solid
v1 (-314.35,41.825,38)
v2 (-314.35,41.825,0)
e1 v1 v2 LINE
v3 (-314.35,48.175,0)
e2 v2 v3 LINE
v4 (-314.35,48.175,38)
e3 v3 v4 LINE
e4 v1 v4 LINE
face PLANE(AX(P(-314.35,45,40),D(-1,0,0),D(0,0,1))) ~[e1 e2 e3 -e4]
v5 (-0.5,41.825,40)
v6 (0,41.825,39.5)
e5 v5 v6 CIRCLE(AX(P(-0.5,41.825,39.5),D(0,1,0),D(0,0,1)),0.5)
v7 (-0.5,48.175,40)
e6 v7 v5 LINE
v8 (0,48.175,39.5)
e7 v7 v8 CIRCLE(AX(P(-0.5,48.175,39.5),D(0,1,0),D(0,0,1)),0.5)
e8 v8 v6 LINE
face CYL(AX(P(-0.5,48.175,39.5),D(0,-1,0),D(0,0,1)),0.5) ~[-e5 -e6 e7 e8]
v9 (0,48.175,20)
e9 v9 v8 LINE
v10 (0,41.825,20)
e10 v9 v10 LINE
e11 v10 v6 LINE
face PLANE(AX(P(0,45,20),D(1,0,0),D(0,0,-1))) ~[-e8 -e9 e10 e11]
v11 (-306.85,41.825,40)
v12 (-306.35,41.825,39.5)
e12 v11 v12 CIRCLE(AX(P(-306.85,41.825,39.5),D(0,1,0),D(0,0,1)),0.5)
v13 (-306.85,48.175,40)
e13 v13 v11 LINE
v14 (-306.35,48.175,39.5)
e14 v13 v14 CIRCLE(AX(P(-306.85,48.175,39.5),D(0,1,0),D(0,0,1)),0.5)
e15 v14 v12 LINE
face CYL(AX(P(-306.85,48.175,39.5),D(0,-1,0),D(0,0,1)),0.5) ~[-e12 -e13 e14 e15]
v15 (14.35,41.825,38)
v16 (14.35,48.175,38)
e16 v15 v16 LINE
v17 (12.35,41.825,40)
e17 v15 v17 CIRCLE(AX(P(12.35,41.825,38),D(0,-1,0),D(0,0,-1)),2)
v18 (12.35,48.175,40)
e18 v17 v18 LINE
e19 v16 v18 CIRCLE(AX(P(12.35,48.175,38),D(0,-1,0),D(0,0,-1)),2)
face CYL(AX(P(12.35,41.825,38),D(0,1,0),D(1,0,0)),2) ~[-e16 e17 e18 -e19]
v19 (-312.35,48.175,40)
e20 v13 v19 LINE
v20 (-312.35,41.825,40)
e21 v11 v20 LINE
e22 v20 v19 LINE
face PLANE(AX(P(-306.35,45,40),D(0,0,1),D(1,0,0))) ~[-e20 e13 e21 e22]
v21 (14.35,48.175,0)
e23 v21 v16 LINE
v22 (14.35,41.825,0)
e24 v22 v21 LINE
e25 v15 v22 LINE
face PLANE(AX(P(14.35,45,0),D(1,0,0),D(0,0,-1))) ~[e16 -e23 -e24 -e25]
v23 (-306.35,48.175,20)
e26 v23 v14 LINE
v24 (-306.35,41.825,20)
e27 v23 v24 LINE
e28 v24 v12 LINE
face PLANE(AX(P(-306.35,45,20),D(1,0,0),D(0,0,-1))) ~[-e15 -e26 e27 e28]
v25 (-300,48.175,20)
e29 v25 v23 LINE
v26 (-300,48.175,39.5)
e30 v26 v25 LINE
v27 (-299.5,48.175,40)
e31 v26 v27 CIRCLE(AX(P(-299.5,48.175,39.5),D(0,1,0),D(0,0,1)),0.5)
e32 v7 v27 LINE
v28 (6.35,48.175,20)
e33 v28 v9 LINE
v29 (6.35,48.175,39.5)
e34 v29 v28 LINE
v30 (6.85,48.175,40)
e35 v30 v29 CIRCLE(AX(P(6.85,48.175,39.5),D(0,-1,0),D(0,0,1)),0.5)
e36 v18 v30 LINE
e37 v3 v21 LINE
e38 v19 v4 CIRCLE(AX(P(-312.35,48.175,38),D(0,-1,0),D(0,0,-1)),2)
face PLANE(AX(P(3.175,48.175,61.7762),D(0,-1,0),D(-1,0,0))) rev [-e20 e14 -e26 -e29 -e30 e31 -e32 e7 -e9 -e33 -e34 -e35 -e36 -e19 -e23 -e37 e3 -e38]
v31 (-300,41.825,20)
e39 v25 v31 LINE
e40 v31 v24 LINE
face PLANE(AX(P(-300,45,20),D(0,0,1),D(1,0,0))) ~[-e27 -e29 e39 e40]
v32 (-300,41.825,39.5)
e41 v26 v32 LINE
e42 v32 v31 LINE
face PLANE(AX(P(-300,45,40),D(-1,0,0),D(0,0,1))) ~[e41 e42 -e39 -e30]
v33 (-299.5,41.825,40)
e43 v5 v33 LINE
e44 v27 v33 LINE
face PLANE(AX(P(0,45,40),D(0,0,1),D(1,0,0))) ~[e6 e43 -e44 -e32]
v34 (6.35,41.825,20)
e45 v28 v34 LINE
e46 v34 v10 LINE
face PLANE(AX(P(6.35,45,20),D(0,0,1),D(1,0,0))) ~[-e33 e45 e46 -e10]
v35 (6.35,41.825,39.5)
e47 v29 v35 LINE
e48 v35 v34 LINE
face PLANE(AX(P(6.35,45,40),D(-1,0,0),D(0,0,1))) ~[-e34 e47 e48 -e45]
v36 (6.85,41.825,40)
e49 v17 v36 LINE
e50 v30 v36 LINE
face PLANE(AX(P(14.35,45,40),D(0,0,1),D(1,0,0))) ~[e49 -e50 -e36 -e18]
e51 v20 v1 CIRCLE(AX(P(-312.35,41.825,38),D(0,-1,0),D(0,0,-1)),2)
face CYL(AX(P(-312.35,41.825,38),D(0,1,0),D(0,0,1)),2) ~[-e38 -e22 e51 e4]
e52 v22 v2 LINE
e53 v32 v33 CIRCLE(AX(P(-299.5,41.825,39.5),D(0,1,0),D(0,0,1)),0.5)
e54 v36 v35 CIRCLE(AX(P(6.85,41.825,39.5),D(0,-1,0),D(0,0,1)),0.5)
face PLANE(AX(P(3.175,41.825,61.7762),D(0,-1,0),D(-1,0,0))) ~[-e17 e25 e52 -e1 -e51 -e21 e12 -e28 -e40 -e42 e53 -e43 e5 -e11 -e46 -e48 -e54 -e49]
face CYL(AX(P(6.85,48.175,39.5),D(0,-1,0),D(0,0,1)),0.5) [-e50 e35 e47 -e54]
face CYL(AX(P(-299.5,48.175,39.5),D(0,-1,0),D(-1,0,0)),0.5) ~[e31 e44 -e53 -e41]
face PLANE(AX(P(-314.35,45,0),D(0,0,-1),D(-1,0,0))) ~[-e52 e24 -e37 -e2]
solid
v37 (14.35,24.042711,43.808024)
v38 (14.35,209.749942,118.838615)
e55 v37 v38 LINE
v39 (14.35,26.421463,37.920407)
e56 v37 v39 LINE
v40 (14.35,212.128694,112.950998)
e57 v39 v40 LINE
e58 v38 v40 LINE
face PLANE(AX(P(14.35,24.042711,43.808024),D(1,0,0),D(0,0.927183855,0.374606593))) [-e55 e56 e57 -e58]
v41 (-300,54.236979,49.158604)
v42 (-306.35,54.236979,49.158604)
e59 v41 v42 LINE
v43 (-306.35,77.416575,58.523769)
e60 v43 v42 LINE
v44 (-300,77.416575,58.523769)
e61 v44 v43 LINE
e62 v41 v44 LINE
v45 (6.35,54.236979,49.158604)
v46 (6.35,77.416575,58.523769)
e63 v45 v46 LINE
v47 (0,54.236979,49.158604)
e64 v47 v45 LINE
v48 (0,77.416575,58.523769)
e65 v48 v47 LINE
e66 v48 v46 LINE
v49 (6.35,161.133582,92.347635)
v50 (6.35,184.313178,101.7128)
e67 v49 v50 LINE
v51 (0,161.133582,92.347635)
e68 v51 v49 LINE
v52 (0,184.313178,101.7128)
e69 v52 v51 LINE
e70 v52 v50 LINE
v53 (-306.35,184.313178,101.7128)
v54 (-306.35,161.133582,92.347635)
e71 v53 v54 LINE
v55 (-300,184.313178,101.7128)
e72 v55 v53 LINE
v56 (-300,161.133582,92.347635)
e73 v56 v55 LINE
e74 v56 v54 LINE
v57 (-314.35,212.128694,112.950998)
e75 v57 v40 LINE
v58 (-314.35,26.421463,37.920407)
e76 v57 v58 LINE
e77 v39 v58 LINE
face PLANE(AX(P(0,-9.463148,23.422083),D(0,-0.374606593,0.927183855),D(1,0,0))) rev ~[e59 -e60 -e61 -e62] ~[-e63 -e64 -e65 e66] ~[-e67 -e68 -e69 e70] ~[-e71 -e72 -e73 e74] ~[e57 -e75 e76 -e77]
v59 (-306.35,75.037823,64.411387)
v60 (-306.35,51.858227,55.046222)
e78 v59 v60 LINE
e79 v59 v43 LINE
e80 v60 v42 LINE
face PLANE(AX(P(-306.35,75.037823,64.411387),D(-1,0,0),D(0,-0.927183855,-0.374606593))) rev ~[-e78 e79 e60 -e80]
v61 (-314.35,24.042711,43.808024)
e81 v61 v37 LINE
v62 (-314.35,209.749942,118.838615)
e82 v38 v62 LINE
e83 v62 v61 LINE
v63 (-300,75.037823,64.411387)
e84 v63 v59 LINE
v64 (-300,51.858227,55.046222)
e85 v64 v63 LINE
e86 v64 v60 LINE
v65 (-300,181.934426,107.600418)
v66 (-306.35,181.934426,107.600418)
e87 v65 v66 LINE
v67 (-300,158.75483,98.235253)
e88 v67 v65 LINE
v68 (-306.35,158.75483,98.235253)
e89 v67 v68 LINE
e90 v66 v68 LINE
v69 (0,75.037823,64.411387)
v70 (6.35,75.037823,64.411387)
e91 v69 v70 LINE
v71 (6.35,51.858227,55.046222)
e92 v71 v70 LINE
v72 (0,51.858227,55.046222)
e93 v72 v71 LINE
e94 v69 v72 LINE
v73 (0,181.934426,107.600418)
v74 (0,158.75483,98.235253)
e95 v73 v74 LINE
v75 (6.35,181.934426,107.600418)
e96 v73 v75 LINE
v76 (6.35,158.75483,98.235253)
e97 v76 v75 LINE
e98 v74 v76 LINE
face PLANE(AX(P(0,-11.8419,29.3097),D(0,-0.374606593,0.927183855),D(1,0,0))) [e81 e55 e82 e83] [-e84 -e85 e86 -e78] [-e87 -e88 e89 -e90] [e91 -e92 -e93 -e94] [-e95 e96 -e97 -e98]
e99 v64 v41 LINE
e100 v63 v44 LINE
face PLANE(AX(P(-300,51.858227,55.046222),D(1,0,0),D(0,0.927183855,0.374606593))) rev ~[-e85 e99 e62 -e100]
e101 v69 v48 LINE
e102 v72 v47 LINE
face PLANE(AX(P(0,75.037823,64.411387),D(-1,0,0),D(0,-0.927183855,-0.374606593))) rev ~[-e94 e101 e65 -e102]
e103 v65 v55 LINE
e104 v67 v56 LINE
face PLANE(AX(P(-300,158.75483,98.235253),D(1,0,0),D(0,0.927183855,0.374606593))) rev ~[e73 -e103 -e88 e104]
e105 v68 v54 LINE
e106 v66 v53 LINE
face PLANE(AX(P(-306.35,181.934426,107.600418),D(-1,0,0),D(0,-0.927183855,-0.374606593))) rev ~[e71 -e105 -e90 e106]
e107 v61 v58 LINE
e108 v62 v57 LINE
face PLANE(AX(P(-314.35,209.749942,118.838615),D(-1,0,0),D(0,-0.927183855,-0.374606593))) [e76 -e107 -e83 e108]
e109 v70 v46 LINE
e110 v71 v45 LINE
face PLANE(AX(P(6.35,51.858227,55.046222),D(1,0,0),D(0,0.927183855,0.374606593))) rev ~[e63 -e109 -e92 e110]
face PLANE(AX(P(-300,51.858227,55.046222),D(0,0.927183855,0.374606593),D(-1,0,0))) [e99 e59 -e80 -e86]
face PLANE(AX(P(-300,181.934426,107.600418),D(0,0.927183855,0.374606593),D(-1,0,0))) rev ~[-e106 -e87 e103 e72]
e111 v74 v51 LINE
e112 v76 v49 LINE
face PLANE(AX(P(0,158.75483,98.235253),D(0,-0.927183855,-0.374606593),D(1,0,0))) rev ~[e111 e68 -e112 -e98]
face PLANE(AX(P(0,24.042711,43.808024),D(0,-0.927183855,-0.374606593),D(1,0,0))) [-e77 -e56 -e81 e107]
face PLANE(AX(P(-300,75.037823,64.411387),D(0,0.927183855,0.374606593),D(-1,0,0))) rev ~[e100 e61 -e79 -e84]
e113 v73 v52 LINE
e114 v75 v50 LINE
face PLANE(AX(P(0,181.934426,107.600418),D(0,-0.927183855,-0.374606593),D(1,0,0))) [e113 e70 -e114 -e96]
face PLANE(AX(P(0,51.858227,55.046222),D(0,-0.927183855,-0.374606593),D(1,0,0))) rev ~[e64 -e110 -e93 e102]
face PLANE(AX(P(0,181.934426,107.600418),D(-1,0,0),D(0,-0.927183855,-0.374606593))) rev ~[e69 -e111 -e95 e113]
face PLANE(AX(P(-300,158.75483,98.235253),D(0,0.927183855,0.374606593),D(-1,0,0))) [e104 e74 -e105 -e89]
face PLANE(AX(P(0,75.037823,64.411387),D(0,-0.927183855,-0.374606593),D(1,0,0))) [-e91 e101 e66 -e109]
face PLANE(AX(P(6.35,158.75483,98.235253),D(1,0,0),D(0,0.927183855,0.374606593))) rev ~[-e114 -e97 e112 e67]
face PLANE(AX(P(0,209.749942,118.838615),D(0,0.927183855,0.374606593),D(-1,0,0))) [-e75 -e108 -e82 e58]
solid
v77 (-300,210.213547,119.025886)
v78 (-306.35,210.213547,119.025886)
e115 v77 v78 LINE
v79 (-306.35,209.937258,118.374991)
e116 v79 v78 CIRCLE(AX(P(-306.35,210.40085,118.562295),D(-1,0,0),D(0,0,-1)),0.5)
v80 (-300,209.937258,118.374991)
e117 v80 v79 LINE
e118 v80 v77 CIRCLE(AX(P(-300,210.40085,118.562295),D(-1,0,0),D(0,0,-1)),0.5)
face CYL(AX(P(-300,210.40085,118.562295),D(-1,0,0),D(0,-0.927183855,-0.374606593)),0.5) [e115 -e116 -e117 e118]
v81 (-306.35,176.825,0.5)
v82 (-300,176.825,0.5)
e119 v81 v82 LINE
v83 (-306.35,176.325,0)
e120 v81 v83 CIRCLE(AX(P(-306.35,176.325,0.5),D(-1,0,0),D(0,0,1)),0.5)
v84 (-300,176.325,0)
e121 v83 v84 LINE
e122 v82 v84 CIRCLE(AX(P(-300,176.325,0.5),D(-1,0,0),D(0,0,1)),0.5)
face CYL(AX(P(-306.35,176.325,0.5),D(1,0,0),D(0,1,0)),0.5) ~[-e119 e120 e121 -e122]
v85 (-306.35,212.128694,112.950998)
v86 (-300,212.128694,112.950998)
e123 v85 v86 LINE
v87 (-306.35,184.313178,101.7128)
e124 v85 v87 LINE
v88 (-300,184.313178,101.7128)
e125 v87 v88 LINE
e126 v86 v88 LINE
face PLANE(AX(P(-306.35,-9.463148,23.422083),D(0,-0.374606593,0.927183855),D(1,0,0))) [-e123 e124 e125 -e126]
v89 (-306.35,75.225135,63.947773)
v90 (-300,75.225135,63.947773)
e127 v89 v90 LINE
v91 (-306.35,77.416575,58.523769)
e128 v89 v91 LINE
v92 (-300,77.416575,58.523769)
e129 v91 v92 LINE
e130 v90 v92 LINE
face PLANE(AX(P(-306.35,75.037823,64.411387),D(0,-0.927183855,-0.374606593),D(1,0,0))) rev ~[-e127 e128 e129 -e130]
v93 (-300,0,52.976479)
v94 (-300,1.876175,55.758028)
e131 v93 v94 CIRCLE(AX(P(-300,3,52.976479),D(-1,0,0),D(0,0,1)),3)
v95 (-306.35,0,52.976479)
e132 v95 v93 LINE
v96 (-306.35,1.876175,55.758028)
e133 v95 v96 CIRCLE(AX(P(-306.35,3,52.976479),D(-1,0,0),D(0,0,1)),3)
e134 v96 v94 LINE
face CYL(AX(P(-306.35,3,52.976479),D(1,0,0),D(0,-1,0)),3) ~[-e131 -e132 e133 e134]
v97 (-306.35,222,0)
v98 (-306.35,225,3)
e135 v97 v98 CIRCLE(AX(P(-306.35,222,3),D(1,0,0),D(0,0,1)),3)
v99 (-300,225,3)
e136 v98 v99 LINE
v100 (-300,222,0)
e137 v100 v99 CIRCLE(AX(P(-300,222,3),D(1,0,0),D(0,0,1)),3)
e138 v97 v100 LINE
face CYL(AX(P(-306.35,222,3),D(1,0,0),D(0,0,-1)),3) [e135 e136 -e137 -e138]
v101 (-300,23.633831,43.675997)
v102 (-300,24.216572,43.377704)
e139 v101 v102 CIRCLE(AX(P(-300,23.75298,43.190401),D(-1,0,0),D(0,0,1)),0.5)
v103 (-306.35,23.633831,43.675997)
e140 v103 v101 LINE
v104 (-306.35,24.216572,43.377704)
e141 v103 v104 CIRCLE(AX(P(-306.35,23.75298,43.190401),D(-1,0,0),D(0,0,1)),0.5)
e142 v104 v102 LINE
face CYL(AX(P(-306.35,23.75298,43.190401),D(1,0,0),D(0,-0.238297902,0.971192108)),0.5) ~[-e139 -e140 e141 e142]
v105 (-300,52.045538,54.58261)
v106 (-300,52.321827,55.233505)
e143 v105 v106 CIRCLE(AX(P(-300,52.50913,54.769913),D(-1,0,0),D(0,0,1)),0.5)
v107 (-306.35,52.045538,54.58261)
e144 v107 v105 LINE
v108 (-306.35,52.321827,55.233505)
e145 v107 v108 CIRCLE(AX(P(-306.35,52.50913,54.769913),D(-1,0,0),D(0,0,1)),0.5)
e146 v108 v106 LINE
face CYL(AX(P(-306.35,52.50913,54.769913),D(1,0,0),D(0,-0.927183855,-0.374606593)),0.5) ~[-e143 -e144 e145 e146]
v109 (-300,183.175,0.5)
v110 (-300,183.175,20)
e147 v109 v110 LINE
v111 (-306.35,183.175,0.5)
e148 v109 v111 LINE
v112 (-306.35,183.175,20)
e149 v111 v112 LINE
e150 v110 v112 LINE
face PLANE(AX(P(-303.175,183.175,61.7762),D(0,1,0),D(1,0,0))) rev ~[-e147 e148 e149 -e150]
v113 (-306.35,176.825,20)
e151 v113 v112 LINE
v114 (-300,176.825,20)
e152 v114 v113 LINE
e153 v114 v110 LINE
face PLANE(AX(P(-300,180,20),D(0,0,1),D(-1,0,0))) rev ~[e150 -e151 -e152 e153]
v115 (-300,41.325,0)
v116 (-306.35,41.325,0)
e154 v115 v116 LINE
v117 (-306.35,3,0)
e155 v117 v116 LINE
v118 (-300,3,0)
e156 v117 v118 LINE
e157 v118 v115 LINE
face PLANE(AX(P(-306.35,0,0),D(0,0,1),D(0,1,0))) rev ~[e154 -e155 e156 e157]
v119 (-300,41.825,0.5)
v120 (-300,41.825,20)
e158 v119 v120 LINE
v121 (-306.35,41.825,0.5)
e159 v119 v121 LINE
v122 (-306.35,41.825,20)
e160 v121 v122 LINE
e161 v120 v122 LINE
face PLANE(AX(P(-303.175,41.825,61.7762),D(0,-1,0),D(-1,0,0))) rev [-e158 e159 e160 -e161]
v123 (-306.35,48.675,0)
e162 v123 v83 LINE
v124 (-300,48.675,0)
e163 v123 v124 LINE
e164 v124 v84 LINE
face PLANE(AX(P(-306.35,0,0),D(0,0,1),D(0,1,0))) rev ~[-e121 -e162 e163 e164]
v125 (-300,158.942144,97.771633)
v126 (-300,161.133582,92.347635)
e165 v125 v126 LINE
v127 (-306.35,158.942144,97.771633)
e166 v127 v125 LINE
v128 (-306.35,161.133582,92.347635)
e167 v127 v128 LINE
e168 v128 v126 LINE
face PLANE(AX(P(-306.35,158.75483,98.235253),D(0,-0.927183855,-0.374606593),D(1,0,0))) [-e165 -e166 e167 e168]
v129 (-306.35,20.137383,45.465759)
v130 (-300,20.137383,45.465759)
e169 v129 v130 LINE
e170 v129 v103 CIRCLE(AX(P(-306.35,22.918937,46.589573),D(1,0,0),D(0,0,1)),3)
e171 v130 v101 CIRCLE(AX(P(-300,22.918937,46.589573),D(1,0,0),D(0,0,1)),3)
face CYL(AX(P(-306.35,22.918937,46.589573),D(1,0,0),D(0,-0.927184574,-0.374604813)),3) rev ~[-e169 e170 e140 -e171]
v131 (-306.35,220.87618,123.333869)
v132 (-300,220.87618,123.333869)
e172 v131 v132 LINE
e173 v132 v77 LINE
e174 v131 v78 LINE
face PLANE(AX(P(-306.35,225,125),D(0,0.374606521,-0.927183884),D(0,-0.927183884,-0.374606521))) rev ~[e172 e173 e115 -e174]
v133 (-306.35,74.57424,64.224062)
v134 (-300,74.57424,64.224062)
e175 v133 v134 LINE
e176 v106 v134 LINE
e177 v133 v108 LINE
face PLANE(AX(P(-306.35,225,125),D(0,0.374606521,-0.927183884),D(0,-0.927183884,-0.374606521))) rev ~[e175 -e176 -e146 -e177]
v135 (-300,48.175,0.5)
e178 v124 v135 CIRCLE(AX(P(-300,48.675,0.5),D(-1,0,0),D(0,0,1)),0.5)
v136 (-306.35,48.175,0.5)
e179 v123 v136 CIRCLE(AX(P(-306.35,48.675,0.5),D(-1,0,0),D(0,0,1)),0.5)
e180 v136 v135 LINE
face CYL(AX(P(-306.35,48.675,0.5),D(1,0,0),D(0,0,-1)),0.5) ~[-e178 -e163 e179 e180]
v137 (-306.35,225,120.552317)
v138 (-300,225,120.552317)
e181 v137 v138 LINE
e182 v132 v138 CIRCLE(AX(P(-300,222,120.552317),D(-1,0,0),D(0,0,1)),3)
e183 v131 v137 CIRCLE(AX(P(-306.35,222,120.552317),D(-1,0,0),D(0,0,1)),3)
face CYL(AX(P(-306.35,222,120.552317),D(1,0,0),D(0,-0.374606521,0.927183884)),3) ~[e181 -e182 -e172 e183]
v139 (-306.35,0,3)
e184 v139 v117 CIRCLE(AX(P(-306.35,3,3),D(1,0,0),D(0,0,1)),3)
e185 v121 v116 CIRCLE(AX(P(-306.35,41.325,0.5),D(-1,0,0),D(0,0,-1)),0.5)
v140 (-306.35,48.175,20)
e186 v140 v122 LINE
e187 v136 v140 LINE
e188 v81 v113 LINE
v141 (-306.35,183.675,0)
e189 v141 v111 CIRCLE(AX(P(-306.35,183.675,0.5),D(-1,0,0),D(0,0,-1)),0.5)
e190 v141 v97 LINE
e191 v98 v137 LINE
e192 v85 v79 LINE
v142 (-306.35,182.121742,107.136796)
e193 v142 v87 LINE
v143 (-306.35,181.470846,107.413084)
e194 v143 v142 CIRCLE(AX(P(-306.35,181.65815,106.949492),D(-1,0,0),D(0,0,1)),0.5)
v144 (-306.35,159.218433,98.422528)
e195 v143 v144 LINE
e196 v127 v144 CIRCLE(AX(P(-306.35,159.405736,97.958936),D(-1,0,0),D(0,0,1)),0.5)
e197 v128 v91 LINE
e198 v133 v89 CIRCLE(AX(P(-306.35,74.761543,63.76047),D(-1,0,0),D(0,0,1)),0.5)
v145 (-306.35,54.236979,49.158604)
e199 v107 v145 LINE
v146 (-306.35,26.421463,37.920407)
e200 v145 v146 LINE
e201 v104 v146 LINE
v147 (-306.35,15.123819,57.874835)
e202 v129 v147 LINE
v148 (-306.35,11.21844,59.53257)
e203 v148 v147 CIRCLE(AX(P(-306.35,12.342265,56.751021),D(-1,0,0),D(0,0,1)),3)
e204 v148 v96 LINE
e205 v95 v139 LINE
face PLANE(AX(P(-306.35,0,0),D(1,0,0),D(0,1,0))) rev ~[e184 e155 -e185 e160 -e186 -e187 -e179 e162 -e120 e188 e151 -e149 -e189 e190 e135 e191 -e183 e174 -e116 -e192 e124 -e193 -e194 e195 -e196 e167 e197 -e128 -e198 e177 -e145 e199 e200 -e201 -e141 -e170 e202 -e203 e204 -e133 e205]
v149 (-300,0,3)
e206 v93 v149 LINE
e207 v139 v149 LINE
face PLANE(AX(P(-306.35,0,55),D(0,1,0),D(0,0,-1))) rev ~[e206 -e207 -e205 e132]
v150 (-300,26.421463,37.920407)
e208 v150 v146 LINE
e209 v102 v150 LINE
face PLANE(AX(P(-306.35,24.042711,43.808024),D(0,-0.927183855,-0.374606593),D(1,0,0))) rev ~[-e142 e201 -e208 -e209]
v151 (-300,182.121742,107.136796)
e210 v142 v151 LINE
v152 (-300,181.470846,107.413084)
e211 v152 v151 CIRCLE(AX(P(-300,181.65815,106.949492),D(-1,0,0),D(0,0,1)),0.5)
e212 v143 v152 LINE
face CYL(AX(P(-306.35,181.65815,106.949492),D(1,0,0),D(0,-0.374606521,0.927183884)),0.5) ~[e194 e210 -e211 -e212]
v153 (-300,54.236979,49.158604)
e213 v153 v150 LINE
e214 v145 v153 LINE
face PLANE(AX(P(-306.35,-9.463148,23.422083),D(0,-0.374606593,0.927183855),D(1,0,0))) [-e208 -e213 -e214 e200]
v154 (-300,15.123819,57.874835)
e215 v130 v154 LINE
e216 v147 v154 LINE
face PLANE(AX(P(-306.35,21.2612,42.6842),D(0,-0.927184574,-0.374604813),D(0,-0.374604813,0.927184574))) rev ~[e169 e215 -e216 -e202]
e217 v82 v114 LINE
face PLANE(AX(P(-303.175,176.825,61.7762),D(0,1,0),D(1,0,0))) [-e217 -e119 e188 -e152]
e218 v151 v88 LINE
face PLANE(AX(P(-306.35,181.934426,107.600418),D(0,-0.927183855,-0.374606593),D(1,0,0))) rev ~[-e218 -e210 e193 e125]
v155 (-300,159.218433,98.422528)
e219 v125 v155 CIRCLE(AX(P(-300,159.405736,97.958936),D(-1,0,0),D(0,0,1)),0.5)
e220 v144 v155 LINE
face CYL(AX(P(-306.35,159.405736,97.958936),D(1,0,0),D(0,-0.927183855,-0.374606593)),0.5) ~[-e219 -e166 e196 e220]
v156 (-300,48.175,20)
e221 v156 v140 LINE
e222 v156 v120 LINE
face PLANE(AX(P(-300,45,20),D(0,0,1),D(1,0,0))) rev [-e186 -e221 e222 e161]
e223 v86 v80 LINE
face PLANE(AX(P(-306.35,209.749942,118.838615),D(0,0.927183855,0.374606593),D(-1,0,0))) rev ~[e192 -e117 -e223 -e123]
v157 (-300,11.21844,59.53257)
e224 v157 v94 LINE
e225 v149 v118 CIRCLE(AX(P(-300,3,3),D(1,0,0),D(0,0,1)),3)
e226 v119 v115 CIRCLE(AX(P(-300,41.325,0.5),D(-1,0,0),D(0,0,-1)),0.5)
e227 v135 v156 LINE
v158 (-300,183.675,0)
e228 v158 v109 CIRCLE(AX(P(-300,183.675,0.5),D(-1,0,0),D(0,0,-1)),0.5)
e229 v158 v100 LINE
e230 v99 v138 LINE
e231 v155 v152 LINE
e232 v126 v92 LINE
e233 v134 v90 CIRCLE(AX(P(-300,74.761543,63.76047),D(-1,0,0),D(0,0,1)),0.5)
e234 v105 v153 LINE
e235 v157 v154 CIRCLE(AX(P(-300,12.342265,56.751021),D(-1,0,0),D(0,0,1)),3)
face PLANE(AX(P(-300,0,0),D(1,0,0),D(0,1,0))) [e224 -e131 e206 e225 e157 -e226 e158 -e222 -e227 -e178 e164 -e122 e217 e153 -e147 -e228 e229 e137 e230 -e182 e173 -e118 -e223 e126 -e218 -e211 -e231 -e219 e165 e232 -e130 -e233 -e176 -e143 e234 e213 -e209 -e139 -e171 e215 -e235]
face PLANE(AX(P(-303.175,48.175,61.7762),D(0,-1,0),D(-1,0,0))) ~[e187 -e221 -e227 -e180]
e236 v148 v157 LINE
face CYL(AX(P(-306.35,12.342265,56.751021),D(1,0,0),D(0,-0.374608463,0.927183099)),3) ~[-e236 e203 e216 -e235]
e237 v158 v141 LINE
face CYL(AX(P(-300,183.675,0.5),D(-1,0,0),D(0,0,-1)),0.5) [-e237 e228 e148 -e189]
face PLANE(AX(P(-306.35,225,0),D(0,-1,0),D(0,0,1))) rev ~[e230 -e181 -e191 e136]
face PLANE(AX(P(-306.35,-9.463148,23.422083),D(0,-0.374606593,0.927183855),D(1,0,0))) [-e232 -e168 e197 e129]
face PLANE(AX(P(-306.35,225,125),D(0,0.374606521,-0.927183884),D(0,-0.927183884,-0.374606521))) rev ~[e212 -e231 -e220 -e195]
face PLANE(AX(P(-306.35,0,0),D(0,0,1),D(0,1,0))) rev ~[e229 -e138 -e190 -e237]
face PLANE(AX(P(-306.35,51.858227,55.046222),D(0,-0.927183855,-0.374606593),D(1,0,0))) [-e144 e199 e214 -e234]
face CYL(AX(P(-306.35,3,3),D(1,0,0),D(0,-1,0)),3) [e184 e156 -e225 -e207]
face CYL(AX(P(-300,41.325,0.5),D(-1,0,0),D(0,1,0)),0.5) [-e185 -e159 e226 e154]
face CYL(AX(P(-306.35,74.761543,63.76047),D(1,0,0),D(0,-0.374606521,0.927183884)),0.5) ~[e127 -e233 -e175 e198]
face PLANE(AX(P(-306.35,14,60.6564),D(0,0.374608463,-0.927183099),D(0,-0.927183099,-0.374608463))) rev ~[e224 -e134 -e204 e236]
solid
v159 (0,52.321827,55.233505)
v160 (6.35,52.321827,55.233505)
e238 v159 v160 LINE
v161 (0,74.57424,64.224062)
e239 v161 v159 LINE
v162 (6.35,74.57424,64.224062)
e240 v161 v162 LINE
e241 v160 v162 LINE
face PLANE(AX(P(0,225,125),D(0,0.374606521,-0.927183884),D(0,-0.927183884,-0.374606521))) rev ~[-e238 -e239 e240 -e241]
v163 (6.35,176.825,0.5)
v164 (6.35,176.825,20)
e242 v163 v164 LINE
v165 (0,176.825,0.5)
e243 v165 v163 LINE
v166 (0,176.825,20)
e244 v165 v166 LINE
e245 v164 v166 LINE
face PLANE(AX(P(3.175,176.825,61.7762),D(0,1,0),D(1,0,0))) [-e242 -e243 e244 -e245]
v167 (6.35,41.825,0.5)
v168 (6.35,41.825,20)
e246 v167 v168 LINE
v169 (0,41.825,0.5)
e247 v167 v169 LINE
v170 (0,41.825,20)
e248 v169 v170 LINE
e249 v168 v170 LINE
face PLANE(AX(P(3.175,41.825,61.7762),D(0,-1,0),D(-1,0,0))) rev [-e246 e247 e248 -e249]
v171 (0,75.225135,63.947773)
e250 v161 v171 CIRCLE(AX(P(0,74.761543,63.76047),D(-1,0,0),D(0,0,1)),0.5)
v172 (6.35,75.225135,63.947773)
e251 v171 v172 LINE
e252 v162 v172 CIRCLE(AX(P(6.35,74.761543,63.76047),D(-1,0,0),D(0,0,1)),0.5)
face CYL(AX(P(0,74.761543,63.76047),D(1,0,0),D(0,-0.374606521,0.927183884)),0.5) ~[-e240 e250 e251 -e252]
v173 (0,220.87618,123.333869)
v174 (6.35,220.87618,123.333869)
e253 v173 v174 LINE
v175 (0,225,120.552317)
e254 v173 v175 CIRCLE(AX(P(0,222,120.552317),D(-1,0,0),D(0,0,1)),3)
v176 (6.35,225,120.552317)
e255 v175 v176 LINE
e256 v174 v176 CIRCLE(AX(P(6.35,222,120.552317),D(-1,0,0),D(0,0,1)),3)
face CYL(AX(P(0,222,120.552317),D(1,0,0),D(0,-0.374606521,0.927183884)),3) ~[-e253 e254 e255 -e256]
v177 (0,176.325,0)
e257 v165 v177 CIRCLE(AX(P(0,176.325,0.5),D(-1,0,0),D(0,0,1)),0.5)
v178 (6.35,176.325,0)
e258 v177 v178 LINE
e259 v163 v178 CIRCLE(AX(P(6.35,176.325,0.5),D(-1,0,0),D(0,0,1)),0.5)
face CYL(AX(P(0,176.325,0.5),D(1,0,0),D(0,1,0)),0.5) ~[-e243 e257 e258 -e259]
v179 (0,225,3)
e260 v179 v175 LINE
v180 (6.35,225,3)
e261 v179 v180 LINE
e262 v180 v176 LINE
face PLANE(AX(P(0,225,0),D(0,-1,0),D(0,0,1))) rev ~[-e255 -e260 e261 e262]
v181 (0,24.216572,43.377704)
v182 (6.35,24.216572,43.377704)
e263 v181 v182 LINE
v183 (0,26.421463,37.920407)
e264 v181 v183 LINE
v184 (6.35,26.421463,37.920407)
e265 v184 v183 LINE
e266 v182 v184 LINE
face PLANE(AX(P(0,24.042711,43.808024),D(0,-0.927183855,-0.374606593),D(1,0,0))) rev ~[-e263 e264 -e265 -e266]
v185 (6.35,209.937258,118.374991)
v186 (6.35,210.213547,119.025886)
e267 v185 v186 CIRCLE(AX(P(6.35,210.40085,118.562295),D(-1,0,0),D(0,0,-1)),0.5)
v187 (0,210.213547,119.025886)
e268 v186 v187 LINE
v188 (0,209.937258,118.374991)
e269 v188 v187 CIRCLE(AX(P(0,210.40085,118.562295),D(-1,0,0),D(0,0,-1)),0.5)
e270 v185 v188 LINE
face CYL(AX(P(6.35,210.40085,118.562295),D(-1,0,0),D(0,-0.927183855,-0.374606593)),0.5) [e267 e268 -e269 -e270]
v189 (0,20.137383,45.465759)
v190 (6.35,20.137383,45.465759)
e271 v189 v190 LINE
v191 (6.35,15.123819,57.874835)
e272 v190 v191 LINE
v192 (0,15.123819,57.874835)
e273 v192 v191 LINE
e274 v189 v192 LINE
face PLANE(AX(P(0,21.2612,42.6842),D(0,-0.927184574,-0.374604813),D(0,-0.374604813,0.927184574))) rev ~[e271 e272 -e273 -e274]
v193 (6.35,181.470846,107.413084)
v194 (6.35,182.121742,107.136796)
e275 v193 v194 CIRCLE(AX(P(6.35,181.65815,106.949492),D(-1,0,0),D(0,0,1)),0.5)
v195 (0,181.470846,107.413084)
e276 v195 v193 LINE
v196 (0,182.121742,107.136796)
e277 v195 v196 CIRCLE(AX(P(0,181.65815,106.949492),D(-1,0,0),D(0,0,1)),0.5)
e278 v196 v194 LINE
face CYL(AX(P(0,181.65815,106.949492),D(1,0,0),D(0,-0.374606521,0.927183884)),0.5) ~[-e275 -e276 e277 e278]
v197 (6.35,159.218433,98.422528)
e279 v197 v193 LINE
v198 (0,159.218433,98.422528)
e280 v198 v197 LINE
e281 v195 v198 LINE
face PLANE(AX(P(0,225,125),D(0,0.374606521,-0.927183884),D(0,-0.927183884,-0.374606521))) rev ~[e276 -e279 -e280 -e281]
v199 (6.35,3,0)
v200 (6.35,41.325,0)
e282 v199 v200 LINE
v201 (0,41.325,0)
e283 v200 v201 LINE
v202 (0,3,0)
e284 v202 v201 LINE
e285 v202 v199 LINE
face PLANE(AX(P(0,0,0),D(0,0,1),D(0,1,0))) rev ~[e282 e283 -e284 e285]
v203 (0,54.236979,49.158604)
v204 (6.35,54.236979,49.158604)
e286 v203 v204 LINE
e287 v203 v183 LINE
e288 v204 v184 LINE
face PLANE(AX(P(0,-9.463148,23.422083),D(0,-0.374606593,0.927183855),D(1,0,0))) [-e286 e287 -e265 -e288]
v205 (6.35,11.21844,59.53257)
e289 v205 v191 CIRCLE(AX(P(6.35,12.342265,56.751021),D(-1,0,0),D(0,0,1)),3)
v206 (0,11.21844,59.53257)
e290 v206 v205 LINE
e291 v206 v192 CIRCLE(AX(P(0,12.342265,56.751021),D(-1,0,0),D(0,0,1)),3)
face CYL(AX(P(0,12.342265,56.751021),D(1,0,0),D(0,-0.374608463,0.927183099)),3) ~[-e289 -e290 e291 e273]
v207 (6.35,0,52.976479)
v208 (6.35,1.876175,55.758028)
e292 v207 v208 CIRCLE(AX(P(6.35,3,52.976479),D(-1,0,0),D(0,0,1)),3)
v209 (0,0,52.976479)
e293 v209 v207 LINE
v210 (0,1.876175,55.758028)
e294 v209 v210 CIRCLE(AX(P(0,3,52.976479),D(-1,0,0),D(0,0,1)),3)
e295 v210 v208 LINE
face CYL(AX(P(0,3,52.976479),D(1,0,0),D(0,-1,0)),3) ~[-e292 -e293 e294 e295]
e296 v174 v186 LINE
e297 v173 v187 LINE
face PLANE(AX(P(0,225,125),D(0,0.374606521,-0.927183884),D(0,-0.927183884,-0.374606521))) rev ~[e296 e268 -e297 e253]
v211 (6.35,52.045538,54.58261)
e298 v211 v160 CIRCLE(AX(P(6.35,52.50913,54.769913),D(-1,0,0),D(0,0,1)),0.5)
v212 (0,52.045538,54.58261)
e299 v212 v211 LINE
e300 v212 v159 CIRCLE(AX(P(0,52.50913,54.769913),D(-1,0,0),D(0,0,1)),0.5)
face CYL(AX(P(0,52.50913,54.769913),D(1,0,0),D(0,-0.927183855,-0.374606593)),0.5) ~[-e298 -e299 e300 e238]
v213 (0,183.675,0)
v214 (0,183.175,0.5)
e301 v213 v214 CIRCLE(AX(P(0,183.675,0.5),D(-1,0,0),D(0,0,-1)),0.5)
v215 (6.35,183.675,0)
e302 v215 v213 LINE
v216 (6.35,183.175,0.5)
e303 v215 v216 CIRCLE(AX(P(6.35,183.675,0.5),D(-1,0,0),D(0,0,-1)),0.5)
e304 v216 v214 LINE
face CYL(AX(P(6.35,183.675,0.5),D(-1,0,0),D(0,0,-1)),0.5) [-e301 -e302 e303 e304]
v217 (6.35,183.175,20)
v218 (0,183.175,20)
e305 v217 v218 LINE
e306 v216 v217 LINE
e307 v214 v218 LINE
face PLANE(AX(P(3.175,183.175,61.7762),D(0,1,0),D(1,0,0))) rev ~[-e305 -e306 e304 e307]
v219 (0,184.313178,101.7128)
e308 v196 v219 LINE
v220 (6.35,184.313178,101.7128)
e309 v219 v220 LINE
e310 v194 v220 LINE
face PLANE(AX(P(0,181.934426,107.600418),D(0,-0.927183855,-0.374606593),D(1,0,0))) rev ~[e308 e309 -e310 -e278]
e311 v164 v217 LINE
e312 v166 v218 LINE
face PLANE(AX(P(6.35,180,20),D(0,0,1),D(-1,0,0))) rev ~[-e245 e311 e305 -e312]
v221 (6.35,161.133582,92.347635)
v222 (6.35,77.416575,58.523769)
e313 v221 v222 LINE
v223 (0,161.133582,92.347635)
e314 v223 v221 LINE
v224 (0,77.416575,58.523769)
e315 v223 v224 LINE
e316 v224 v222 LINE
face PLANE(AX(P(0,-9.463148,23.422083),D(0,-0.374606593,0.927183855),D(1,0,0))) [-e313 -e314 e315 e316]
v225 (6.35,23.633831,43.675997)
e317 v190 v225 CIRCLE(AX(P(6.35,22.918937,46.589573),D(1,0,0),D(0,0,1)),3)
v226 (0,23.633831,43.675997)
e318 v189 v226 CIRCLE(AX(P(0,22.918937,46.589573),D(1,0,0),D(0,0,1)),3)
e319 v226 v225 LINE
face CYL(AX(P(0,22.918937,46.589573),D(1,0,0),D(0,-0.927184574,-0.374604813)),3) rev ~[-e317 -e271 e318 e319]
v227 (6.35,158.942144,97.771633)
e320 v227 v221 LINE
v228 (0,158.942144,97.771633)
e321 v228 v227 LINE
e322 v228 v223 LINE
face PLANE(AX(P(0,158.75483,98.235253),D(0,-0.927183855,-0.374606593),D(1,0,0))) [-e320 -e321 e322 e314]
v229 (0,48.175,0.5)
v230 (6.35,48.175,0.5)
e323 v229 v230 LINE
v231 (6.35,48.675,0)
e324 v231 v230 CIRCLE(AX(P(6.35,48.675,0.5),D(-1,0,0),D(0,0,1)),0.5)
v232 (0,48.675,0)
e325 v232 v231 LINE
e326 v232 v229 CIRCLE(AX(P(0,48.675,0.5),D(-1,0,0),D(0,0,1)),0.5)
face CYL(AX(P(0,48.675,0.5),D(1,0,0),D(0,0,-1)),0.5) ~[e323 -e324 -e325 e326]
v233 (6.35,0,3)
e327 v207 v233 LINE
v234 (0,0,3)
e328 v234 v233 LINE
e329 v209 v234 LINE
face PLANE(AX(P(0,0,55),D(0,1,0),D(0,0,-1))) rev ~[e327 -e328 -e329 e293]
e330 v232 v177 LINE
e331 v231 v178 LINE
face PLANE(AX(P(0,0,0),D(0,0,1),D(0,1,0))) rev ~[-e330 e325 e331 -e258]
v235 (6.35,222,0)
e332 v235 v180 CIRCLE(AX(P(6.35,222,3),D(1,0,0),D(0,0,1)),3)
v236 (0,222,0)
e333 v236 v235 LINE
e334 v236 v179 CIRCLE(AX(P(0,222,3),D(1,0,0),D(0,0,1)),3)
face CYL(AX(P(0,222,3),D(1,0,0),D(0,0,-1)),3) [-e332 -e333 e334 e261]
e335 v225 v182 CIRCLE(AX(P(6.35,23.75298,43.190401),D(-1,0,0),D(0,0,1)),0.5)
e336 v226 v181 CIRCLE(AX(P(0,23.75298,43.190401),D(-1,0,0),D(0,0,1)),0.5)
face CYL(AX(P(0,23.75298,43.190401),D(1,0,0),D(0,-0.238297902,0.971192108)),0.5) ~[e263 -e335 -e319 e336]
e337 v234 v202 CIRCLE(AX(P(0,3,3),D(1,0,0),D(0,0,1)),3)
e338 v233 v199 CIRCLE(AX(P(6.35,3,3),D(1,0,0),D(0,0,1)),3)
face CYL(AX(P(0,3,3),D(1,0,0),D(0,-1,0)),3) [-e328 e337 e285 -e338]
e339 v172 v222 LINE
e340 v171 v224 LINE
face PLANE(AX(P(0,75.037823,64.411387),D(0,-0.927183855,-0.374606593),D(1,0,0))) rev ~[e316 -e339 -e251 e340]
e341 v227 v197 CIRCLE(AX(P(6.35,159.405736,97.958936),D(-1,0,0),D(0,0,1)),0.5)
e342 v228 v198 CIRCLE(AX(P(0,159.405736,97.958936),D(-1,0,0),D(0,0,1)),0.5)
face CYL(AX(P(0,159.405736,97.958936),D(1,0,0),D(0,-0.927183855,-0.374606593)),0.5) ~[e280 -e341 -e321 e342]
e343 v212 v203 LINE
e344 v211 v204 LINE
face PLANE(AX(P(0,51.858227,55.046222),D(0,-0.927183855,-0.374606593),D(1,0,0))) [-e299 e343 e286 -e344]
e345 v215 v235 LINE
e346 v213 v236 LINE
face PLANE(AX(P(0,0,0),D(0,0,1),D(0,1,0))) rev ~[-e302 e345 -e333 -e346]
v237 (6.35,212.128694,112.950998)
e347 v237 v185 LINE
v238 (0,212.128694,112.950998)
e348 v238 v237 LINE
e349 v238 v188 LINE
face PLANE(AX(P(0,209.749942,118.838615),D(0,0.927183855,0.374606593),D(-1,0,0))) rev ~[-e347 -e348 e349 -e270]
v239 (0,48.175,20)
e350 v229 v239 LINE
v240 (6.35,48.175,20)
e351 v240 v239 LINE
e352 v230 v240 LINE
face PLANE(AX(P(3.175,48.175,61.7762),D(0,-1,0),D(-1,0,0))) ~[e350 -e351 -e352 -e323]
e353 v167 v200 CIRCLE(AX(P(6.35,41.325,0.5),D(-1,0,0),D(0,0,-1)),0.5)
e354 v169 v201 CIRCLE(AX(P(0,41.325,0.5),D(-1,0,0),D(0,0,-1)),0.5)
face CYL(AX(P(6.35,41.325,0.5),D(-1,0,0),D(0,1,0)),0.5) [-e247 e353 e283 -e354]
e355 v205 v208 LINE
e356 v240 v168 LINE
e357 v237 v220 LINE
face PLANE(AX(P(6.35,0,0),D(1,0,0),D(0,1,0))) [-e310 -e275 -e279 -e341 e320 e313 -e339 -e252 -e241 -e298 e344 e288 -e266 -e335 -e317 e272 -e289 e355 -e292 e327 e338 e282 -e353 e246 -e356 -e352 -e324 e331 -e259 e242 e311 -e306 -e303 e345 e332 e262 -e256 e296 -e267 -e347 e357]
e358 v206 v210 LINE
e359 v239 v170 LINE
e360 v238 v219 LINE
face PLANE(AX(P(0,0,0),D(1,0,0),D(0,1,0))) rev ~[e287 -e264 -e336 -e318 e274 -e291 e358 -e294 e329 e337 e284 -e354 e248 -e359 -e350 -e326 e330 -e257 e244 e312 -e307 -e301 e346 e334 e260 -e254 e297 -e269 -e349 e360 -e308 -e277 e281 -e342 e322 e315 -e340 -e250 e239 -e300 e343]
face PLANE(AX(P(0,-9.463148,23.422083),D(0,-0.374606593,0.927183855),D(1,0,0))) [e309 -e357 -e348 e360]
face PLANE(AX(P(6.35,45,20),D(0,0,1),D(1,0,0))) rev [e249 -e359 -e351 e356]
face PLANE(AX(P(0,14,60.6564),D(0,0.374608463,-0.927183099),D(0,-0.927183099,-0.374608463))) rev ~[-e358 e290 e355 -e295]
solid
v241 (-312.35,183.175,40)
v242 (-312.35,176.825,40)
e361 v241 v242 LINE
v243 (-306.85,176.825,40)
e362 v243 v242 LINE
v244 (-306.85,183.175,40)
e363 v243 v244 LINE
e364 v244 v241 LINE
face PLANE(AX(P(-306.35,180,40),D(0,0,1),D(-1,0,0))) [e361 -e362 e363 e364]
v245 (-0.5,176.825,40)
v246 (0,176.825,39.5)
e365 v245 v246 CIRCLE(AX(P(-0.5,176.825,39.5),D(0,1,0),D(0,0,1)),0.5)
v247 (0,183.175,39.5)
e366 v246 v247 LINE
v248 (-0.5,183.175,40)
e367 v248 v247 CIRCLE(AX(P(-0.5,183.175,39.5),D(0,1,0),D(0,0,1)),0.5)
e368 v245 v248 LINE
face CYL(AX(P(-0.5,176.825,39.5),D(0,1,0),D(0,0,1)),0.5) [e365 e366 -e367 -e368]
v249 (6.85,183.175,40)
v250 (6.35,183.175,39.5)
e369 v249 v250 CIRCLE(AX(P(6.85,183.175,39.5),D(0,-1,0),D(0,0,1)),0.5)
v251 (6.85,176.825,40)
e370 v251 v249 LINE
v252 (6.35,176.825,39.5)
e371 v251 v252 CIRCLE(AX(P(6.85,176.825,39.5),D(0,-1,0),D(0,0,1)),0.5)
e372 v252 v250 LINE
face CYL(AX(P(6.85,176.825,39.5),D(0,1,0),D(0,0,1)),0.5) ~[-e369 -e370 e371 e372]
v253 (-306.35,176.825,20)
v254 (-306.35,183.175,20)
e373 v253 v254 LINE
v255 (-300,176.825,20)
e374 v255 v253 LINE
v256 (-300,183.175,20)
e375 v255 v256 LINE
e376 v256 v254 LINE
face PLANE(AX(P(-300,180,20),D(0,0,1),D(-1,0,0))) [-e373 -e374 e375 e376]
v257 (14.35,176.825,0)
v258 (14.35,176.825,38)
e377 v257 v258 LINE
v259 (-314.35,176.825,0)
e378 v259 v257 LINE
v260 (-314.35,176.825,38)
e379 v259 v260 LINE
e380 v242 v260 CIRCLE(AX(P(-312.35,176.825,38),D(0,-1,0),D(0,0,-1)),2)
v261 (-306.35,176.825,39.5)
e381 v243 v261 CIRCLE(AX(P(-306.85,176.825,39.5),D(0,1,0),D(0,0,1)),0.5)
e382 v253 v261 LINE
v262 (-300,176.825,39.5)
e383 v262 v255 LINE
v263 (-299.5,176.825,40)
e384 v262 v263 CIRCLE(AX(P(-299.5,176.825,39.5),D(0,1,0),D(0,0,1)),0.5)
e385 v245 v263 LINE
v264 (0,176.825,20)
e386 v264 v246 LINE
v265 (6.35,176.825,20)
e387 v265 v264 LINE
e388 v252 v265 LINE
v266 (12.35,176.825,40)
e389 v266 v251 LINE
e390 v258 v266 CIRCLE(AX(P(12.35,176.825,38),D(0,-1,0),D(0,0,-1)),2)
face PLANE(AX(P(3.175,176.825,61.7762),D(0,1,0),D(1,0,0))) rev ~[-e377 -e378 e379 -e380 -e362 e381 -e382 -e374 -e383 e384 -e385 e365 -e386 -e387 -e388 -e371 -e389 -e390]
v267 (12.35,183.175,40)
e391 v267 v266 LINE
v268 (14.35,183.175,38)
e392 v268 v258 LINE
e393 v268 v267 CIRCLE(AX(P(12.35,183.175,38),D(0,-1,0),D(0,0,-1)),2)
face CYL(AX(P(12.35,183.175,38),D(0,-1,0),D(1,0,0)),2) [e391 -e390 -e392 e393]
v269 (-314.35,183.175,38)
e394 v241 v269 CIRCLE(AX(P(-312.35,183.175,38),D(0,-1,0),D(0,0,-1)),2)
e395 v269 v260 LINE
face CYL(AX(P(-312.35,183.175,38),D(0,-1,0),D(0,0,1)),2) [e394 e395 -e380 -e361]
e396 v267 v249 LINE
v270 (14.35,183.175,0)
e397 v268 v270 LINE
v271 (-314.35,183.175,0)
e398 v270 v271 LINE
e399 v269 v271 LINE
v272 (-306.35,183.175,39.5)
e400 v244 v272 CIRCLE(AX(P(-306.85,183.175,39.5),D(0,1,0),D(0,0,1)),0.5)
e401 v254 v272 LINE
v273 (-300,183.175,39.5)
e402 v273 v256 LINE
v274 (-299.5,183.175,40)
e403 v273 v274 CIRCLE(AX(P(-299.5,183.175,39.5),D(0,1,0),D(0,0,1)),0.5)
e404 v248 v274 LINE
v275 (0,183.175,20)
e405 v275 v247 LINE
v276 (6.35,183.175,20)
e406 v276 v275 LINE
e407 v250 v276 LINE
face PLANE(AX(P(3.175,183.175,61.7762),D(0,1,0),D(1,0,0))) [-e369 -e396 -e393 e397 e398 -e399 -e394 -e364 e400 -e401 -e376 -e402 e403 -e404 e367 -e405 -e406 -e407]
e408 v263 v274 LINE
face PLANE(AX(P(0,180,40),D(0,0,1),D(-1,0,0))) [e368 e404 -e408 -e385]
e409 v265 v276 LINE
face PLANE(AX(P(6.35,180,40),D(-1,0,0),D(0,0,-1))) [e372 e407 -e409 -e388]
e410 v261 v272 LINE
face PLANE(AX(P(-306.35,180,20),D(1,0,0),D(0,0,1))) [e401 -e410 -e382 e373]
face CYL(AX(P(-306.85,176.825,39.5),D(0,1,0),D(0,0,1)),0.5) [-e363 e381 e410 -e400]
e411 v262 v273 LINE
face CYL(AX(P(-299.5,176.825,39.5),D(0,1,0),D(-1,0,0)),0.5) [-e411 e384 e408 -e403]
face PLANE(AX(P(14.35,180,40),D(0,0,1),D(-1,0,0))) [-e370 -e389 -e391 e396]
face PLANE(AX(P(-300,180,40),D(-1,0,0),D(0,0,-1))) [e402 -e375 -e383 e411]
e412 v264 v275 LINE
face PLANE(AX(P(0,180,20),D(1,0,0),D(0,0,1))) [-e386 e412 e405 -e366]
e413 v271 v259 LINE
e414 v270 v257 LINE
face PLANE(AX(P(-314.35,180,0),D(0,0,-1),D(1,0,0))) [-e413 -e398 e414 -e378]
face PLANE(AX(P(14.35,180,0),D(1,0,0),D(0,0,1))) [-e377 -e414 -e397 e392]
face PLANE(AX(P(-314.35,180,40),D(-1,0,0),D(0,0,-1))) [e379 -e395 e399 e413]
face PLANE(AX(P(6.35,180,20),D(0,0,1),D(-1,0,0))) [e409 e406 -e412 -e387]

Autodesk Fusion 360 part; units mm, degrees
sketch "Sketch1" plane through (0, 0, 0) normal (1, 0, 0) x (0, 1, 0) in component "Leg"
  line L0 (0, 0) -> (225, 0)
  line L1 (225, 0) -> (225, 125)
  line L2 (225, 125) -> (21.2612, 42.6842)
  line L3 (21.2612, 42.6842) -> (14, 60.6564)
  line L4 (14, 60.6564) -> (0, 55)
  line L5 (0, 55) -> (0, 0)
  dimension "d1" = 225
  dimension "d2" = 125
  dimension "d3" = 55
  dimension "d4" = 22
  dimension "d5" = 14
extrude "Extrude1" add sketch "Sketch1" along normal blind 6.35 makes body 1 in component "Leg"
fillet "Fillet1" radius 3 4 edges at (3.175, 225, 125) (3.175, 21.2612, 42.6842) (3.175, 14, 60.6564) (3.175, 0, 55) on bodies 1 in component "Leg"
fillet "Fillet2" radius 3 2 edges at (3.175, 225, 0) (3.175, 0, 0) on bodies 1 in component "Leg"
sketch "Sketch1 (2)" plane through (0, -11.8419, 29.3097) normal (0, -0.3746, 0.9272) x (1, 0, 0) in component "Top"
  line L0 (0, 38.7028) -> (6.35, 38.7028)
  line L1 (6.35, 38.7028) -> (6.35, 250.9945)
  line L2 (6.35, 250.9945) -> (0, 250.9945)
  line L3 (0, 250.9945) -> (0, 38.7028)
  line L4 (14.35, 238.9945) -> (-314.35, 238.9945)
  line L5 (-314.35, 238.9945) -> (-314.35, 38.7028)
  line L6 (-314.35, 38.7028) -> (14.35, 38.7028)
  line L7 (14.35, 38.7028) -> (14.35, 238.9945)
  line L8 (-306.35, 38.7028) -> (-300, 38.7028)
  line L9 (-300, 38.7028) -> (-300, 250.9945)
  line L10 (-300, 250.9945) -> (-306.35, 250.9945)
  line L11 (-306.35, 250.9945) -> (-306.35, 38.7028)
  line L12 (0, 208.9945) -> (6.35, 208.9945)
  line L13 (0, 183.9945) -> (6.35, 183.9945)
  line L14 (-150, 238.9945) -> (-150, 38.7028) construction
  line L15 (-314.35, 138.8487) -> (14.35, 138.8487) construction
  line L16 (-300, 208.9945) -> (-306.35, 208.9945)
  line L17 (-300, 183.9945) -> (-306.35, 183.9945)
  line L18 (-300, 68.7028) -> (-306.35, 68.7028)
  line L19 (-300, 93.7028) -> (-306.35, 93.7028)
  line L20 (0, 68.7028) -> (6.35, 68.7028)
  line L21 (0, 93.7028) -> (6.35, 93.7028)
  dimension "d24" = 12
  dimension "d25" = 8
  dimension "d26" = 8
  dimension "d27" = 25
  dimension "d28" = 30
extrude "Extrude1'" add sketch "Sketch1 (2)" against normal blind 6.35 separate body contours L0 L1 L3 L6 L20 | L3 L4 L6 L9 | L1 L4 L6 L7 | L6 L8 L9 L11 L18 | L1 L3 L13 L21 | L4 L5 L6 L11 | L9 L11 L17 L19 | L1 L3 L4 L12 | L4 L9 L11 L16 makes body 2 in component "Top"
combine "Combine1" operation cut target body 1 tool bodies 2 keep tools in component "Leg"
ref_plane "WorkPlane1" through (3.175, 180, 61.7762) normal (0, 1, 0) x (0, 0, 1) in component "Support"
sketch "Sketch1 (3)" plane through (3.175, 180, 61.7762) normal (0, 1, 0) x (1, 0, 0) in component "Support"
  line L0 (-309.525, -45.0427) -> (-303.175, -45.0427)
  line L1 (-303.175, -45.0427) -> (-303.175, 61.7762)
  line L2 (-303.175, 61.7762) -> (-309.525, 61.7762)
  line L3 (-309.525, 61.7762) -> (-309.525, -45.0427)
  line L4 (-3.175, -45.0427) -> (3.175, -45.0427)
  line L5 (3.175, -45.0427) -> (3.175, 61.7762)
  line L6 (3.175, 61.7762) -> (-3.175, 61.7762)
  line L7 (-3.175, 61.7762) -> (-3.175, -45.0427)
  line L8 (11.175, 21.7762) -> (-317.525, 21.7762)
  line L9 (-317.525, 21.7762) -> (-317.525, 61.7762)
  line L10 (-317.525, 61.7762) -> (11.175, 61.7762)
  line L11 (11.175, 61.7762) -> (11.175, 21.7762)
  line L12 (-317.525, 23.8558) -> (-317.525, -51.1748)
  line L13 (11.175, -51.1748) -> (11.175, 23.8558)
  line L14 (11.175, 41.7762) -> (-317.525, 41.7762)
  dimension "d32" = 40
extrude "Extrude1''" add sketch "Sketch1 (3)" along normal mid plane 6.35 separate body contours L3 L8 L9 L12 L14 | L1 L7 L8 L14 | L3 L9 L10 L14 | L1 L2 L3 L10 L14 | L1 L7 L10 L14 | L5 L6 L7 L10 L14 | L5 L8 L11 L13 L14 | L5 L10 L11 L14 makes body 3 in component "Support"
ref_plane "WorkPlane2" through (3.175, 112.5, 61.7762) normal (0, 1, 0) x (0, 0, 1) in component "Support"
fillet "Fillet1'" radius 2 2 edges at (14.35, 180, 40) (-314.35, 180, 40) on bodies 3 in component "Support"
fillet "Fillet2'" radius 0.5 4 edges at (-306.35, 180, 40) (-300, 180, 40) (0, 180, 40) (6.35, 180, 40) on bodies 3 in component "Support"
mirror "Mirror1" about plane through (3.175, 112.5, 61.7762) normal (0, 1, 0) of bodies 3 makes body 4 in component "Support"
combine "Combine2" operation cut target body 1 tool bodies 3 4 keep tools in component "Leg"
fillet "Fillet3" radius 0.5 4 edges at (3.175, 41.825, 0) (3.175, 48.175, 0) (3.175, 176.825, 0) (3.175, 183.175, 0) on bodies 1 in component "Leg"
fillet "Fillet4" radius 0.5 1 edges at (3.175, 24.0428, 43.808) on bodies 1 in component "Leg"
fillet "Fillet5" radius 0.5 5 edges at (3.175, 51.8583, 55.0462) (3.175, 75.0379, 64.4114) (3.175, 158.7549, 98.2352) (3.175, 181.9345, 107.6004) (3.175, 209.75, 118.8386) on bodies 1 in component "Leg"
component "Leg" placed x (1, 0, 0) y (0, 1, 0) z (0, 0, 1) at (-306.35, 0, 0)
component "Leg" placed x (1, 0, 0) y (0, 1, 0) z (0, 0, 1) at (0, 0, 0)
component "Top" placed x (1, 0, 0) y (0, 1, 0) z (0, 0, 1) at (0, 0, 0)
component "Support" placed x (1, 0, 0) y (0, 1, 0) z (0, 0, 1) at (0, 0, 0)
equation "legwidth = 300 mm"
equation "d23 = legwidth"
equation "d33 = t / 2"
